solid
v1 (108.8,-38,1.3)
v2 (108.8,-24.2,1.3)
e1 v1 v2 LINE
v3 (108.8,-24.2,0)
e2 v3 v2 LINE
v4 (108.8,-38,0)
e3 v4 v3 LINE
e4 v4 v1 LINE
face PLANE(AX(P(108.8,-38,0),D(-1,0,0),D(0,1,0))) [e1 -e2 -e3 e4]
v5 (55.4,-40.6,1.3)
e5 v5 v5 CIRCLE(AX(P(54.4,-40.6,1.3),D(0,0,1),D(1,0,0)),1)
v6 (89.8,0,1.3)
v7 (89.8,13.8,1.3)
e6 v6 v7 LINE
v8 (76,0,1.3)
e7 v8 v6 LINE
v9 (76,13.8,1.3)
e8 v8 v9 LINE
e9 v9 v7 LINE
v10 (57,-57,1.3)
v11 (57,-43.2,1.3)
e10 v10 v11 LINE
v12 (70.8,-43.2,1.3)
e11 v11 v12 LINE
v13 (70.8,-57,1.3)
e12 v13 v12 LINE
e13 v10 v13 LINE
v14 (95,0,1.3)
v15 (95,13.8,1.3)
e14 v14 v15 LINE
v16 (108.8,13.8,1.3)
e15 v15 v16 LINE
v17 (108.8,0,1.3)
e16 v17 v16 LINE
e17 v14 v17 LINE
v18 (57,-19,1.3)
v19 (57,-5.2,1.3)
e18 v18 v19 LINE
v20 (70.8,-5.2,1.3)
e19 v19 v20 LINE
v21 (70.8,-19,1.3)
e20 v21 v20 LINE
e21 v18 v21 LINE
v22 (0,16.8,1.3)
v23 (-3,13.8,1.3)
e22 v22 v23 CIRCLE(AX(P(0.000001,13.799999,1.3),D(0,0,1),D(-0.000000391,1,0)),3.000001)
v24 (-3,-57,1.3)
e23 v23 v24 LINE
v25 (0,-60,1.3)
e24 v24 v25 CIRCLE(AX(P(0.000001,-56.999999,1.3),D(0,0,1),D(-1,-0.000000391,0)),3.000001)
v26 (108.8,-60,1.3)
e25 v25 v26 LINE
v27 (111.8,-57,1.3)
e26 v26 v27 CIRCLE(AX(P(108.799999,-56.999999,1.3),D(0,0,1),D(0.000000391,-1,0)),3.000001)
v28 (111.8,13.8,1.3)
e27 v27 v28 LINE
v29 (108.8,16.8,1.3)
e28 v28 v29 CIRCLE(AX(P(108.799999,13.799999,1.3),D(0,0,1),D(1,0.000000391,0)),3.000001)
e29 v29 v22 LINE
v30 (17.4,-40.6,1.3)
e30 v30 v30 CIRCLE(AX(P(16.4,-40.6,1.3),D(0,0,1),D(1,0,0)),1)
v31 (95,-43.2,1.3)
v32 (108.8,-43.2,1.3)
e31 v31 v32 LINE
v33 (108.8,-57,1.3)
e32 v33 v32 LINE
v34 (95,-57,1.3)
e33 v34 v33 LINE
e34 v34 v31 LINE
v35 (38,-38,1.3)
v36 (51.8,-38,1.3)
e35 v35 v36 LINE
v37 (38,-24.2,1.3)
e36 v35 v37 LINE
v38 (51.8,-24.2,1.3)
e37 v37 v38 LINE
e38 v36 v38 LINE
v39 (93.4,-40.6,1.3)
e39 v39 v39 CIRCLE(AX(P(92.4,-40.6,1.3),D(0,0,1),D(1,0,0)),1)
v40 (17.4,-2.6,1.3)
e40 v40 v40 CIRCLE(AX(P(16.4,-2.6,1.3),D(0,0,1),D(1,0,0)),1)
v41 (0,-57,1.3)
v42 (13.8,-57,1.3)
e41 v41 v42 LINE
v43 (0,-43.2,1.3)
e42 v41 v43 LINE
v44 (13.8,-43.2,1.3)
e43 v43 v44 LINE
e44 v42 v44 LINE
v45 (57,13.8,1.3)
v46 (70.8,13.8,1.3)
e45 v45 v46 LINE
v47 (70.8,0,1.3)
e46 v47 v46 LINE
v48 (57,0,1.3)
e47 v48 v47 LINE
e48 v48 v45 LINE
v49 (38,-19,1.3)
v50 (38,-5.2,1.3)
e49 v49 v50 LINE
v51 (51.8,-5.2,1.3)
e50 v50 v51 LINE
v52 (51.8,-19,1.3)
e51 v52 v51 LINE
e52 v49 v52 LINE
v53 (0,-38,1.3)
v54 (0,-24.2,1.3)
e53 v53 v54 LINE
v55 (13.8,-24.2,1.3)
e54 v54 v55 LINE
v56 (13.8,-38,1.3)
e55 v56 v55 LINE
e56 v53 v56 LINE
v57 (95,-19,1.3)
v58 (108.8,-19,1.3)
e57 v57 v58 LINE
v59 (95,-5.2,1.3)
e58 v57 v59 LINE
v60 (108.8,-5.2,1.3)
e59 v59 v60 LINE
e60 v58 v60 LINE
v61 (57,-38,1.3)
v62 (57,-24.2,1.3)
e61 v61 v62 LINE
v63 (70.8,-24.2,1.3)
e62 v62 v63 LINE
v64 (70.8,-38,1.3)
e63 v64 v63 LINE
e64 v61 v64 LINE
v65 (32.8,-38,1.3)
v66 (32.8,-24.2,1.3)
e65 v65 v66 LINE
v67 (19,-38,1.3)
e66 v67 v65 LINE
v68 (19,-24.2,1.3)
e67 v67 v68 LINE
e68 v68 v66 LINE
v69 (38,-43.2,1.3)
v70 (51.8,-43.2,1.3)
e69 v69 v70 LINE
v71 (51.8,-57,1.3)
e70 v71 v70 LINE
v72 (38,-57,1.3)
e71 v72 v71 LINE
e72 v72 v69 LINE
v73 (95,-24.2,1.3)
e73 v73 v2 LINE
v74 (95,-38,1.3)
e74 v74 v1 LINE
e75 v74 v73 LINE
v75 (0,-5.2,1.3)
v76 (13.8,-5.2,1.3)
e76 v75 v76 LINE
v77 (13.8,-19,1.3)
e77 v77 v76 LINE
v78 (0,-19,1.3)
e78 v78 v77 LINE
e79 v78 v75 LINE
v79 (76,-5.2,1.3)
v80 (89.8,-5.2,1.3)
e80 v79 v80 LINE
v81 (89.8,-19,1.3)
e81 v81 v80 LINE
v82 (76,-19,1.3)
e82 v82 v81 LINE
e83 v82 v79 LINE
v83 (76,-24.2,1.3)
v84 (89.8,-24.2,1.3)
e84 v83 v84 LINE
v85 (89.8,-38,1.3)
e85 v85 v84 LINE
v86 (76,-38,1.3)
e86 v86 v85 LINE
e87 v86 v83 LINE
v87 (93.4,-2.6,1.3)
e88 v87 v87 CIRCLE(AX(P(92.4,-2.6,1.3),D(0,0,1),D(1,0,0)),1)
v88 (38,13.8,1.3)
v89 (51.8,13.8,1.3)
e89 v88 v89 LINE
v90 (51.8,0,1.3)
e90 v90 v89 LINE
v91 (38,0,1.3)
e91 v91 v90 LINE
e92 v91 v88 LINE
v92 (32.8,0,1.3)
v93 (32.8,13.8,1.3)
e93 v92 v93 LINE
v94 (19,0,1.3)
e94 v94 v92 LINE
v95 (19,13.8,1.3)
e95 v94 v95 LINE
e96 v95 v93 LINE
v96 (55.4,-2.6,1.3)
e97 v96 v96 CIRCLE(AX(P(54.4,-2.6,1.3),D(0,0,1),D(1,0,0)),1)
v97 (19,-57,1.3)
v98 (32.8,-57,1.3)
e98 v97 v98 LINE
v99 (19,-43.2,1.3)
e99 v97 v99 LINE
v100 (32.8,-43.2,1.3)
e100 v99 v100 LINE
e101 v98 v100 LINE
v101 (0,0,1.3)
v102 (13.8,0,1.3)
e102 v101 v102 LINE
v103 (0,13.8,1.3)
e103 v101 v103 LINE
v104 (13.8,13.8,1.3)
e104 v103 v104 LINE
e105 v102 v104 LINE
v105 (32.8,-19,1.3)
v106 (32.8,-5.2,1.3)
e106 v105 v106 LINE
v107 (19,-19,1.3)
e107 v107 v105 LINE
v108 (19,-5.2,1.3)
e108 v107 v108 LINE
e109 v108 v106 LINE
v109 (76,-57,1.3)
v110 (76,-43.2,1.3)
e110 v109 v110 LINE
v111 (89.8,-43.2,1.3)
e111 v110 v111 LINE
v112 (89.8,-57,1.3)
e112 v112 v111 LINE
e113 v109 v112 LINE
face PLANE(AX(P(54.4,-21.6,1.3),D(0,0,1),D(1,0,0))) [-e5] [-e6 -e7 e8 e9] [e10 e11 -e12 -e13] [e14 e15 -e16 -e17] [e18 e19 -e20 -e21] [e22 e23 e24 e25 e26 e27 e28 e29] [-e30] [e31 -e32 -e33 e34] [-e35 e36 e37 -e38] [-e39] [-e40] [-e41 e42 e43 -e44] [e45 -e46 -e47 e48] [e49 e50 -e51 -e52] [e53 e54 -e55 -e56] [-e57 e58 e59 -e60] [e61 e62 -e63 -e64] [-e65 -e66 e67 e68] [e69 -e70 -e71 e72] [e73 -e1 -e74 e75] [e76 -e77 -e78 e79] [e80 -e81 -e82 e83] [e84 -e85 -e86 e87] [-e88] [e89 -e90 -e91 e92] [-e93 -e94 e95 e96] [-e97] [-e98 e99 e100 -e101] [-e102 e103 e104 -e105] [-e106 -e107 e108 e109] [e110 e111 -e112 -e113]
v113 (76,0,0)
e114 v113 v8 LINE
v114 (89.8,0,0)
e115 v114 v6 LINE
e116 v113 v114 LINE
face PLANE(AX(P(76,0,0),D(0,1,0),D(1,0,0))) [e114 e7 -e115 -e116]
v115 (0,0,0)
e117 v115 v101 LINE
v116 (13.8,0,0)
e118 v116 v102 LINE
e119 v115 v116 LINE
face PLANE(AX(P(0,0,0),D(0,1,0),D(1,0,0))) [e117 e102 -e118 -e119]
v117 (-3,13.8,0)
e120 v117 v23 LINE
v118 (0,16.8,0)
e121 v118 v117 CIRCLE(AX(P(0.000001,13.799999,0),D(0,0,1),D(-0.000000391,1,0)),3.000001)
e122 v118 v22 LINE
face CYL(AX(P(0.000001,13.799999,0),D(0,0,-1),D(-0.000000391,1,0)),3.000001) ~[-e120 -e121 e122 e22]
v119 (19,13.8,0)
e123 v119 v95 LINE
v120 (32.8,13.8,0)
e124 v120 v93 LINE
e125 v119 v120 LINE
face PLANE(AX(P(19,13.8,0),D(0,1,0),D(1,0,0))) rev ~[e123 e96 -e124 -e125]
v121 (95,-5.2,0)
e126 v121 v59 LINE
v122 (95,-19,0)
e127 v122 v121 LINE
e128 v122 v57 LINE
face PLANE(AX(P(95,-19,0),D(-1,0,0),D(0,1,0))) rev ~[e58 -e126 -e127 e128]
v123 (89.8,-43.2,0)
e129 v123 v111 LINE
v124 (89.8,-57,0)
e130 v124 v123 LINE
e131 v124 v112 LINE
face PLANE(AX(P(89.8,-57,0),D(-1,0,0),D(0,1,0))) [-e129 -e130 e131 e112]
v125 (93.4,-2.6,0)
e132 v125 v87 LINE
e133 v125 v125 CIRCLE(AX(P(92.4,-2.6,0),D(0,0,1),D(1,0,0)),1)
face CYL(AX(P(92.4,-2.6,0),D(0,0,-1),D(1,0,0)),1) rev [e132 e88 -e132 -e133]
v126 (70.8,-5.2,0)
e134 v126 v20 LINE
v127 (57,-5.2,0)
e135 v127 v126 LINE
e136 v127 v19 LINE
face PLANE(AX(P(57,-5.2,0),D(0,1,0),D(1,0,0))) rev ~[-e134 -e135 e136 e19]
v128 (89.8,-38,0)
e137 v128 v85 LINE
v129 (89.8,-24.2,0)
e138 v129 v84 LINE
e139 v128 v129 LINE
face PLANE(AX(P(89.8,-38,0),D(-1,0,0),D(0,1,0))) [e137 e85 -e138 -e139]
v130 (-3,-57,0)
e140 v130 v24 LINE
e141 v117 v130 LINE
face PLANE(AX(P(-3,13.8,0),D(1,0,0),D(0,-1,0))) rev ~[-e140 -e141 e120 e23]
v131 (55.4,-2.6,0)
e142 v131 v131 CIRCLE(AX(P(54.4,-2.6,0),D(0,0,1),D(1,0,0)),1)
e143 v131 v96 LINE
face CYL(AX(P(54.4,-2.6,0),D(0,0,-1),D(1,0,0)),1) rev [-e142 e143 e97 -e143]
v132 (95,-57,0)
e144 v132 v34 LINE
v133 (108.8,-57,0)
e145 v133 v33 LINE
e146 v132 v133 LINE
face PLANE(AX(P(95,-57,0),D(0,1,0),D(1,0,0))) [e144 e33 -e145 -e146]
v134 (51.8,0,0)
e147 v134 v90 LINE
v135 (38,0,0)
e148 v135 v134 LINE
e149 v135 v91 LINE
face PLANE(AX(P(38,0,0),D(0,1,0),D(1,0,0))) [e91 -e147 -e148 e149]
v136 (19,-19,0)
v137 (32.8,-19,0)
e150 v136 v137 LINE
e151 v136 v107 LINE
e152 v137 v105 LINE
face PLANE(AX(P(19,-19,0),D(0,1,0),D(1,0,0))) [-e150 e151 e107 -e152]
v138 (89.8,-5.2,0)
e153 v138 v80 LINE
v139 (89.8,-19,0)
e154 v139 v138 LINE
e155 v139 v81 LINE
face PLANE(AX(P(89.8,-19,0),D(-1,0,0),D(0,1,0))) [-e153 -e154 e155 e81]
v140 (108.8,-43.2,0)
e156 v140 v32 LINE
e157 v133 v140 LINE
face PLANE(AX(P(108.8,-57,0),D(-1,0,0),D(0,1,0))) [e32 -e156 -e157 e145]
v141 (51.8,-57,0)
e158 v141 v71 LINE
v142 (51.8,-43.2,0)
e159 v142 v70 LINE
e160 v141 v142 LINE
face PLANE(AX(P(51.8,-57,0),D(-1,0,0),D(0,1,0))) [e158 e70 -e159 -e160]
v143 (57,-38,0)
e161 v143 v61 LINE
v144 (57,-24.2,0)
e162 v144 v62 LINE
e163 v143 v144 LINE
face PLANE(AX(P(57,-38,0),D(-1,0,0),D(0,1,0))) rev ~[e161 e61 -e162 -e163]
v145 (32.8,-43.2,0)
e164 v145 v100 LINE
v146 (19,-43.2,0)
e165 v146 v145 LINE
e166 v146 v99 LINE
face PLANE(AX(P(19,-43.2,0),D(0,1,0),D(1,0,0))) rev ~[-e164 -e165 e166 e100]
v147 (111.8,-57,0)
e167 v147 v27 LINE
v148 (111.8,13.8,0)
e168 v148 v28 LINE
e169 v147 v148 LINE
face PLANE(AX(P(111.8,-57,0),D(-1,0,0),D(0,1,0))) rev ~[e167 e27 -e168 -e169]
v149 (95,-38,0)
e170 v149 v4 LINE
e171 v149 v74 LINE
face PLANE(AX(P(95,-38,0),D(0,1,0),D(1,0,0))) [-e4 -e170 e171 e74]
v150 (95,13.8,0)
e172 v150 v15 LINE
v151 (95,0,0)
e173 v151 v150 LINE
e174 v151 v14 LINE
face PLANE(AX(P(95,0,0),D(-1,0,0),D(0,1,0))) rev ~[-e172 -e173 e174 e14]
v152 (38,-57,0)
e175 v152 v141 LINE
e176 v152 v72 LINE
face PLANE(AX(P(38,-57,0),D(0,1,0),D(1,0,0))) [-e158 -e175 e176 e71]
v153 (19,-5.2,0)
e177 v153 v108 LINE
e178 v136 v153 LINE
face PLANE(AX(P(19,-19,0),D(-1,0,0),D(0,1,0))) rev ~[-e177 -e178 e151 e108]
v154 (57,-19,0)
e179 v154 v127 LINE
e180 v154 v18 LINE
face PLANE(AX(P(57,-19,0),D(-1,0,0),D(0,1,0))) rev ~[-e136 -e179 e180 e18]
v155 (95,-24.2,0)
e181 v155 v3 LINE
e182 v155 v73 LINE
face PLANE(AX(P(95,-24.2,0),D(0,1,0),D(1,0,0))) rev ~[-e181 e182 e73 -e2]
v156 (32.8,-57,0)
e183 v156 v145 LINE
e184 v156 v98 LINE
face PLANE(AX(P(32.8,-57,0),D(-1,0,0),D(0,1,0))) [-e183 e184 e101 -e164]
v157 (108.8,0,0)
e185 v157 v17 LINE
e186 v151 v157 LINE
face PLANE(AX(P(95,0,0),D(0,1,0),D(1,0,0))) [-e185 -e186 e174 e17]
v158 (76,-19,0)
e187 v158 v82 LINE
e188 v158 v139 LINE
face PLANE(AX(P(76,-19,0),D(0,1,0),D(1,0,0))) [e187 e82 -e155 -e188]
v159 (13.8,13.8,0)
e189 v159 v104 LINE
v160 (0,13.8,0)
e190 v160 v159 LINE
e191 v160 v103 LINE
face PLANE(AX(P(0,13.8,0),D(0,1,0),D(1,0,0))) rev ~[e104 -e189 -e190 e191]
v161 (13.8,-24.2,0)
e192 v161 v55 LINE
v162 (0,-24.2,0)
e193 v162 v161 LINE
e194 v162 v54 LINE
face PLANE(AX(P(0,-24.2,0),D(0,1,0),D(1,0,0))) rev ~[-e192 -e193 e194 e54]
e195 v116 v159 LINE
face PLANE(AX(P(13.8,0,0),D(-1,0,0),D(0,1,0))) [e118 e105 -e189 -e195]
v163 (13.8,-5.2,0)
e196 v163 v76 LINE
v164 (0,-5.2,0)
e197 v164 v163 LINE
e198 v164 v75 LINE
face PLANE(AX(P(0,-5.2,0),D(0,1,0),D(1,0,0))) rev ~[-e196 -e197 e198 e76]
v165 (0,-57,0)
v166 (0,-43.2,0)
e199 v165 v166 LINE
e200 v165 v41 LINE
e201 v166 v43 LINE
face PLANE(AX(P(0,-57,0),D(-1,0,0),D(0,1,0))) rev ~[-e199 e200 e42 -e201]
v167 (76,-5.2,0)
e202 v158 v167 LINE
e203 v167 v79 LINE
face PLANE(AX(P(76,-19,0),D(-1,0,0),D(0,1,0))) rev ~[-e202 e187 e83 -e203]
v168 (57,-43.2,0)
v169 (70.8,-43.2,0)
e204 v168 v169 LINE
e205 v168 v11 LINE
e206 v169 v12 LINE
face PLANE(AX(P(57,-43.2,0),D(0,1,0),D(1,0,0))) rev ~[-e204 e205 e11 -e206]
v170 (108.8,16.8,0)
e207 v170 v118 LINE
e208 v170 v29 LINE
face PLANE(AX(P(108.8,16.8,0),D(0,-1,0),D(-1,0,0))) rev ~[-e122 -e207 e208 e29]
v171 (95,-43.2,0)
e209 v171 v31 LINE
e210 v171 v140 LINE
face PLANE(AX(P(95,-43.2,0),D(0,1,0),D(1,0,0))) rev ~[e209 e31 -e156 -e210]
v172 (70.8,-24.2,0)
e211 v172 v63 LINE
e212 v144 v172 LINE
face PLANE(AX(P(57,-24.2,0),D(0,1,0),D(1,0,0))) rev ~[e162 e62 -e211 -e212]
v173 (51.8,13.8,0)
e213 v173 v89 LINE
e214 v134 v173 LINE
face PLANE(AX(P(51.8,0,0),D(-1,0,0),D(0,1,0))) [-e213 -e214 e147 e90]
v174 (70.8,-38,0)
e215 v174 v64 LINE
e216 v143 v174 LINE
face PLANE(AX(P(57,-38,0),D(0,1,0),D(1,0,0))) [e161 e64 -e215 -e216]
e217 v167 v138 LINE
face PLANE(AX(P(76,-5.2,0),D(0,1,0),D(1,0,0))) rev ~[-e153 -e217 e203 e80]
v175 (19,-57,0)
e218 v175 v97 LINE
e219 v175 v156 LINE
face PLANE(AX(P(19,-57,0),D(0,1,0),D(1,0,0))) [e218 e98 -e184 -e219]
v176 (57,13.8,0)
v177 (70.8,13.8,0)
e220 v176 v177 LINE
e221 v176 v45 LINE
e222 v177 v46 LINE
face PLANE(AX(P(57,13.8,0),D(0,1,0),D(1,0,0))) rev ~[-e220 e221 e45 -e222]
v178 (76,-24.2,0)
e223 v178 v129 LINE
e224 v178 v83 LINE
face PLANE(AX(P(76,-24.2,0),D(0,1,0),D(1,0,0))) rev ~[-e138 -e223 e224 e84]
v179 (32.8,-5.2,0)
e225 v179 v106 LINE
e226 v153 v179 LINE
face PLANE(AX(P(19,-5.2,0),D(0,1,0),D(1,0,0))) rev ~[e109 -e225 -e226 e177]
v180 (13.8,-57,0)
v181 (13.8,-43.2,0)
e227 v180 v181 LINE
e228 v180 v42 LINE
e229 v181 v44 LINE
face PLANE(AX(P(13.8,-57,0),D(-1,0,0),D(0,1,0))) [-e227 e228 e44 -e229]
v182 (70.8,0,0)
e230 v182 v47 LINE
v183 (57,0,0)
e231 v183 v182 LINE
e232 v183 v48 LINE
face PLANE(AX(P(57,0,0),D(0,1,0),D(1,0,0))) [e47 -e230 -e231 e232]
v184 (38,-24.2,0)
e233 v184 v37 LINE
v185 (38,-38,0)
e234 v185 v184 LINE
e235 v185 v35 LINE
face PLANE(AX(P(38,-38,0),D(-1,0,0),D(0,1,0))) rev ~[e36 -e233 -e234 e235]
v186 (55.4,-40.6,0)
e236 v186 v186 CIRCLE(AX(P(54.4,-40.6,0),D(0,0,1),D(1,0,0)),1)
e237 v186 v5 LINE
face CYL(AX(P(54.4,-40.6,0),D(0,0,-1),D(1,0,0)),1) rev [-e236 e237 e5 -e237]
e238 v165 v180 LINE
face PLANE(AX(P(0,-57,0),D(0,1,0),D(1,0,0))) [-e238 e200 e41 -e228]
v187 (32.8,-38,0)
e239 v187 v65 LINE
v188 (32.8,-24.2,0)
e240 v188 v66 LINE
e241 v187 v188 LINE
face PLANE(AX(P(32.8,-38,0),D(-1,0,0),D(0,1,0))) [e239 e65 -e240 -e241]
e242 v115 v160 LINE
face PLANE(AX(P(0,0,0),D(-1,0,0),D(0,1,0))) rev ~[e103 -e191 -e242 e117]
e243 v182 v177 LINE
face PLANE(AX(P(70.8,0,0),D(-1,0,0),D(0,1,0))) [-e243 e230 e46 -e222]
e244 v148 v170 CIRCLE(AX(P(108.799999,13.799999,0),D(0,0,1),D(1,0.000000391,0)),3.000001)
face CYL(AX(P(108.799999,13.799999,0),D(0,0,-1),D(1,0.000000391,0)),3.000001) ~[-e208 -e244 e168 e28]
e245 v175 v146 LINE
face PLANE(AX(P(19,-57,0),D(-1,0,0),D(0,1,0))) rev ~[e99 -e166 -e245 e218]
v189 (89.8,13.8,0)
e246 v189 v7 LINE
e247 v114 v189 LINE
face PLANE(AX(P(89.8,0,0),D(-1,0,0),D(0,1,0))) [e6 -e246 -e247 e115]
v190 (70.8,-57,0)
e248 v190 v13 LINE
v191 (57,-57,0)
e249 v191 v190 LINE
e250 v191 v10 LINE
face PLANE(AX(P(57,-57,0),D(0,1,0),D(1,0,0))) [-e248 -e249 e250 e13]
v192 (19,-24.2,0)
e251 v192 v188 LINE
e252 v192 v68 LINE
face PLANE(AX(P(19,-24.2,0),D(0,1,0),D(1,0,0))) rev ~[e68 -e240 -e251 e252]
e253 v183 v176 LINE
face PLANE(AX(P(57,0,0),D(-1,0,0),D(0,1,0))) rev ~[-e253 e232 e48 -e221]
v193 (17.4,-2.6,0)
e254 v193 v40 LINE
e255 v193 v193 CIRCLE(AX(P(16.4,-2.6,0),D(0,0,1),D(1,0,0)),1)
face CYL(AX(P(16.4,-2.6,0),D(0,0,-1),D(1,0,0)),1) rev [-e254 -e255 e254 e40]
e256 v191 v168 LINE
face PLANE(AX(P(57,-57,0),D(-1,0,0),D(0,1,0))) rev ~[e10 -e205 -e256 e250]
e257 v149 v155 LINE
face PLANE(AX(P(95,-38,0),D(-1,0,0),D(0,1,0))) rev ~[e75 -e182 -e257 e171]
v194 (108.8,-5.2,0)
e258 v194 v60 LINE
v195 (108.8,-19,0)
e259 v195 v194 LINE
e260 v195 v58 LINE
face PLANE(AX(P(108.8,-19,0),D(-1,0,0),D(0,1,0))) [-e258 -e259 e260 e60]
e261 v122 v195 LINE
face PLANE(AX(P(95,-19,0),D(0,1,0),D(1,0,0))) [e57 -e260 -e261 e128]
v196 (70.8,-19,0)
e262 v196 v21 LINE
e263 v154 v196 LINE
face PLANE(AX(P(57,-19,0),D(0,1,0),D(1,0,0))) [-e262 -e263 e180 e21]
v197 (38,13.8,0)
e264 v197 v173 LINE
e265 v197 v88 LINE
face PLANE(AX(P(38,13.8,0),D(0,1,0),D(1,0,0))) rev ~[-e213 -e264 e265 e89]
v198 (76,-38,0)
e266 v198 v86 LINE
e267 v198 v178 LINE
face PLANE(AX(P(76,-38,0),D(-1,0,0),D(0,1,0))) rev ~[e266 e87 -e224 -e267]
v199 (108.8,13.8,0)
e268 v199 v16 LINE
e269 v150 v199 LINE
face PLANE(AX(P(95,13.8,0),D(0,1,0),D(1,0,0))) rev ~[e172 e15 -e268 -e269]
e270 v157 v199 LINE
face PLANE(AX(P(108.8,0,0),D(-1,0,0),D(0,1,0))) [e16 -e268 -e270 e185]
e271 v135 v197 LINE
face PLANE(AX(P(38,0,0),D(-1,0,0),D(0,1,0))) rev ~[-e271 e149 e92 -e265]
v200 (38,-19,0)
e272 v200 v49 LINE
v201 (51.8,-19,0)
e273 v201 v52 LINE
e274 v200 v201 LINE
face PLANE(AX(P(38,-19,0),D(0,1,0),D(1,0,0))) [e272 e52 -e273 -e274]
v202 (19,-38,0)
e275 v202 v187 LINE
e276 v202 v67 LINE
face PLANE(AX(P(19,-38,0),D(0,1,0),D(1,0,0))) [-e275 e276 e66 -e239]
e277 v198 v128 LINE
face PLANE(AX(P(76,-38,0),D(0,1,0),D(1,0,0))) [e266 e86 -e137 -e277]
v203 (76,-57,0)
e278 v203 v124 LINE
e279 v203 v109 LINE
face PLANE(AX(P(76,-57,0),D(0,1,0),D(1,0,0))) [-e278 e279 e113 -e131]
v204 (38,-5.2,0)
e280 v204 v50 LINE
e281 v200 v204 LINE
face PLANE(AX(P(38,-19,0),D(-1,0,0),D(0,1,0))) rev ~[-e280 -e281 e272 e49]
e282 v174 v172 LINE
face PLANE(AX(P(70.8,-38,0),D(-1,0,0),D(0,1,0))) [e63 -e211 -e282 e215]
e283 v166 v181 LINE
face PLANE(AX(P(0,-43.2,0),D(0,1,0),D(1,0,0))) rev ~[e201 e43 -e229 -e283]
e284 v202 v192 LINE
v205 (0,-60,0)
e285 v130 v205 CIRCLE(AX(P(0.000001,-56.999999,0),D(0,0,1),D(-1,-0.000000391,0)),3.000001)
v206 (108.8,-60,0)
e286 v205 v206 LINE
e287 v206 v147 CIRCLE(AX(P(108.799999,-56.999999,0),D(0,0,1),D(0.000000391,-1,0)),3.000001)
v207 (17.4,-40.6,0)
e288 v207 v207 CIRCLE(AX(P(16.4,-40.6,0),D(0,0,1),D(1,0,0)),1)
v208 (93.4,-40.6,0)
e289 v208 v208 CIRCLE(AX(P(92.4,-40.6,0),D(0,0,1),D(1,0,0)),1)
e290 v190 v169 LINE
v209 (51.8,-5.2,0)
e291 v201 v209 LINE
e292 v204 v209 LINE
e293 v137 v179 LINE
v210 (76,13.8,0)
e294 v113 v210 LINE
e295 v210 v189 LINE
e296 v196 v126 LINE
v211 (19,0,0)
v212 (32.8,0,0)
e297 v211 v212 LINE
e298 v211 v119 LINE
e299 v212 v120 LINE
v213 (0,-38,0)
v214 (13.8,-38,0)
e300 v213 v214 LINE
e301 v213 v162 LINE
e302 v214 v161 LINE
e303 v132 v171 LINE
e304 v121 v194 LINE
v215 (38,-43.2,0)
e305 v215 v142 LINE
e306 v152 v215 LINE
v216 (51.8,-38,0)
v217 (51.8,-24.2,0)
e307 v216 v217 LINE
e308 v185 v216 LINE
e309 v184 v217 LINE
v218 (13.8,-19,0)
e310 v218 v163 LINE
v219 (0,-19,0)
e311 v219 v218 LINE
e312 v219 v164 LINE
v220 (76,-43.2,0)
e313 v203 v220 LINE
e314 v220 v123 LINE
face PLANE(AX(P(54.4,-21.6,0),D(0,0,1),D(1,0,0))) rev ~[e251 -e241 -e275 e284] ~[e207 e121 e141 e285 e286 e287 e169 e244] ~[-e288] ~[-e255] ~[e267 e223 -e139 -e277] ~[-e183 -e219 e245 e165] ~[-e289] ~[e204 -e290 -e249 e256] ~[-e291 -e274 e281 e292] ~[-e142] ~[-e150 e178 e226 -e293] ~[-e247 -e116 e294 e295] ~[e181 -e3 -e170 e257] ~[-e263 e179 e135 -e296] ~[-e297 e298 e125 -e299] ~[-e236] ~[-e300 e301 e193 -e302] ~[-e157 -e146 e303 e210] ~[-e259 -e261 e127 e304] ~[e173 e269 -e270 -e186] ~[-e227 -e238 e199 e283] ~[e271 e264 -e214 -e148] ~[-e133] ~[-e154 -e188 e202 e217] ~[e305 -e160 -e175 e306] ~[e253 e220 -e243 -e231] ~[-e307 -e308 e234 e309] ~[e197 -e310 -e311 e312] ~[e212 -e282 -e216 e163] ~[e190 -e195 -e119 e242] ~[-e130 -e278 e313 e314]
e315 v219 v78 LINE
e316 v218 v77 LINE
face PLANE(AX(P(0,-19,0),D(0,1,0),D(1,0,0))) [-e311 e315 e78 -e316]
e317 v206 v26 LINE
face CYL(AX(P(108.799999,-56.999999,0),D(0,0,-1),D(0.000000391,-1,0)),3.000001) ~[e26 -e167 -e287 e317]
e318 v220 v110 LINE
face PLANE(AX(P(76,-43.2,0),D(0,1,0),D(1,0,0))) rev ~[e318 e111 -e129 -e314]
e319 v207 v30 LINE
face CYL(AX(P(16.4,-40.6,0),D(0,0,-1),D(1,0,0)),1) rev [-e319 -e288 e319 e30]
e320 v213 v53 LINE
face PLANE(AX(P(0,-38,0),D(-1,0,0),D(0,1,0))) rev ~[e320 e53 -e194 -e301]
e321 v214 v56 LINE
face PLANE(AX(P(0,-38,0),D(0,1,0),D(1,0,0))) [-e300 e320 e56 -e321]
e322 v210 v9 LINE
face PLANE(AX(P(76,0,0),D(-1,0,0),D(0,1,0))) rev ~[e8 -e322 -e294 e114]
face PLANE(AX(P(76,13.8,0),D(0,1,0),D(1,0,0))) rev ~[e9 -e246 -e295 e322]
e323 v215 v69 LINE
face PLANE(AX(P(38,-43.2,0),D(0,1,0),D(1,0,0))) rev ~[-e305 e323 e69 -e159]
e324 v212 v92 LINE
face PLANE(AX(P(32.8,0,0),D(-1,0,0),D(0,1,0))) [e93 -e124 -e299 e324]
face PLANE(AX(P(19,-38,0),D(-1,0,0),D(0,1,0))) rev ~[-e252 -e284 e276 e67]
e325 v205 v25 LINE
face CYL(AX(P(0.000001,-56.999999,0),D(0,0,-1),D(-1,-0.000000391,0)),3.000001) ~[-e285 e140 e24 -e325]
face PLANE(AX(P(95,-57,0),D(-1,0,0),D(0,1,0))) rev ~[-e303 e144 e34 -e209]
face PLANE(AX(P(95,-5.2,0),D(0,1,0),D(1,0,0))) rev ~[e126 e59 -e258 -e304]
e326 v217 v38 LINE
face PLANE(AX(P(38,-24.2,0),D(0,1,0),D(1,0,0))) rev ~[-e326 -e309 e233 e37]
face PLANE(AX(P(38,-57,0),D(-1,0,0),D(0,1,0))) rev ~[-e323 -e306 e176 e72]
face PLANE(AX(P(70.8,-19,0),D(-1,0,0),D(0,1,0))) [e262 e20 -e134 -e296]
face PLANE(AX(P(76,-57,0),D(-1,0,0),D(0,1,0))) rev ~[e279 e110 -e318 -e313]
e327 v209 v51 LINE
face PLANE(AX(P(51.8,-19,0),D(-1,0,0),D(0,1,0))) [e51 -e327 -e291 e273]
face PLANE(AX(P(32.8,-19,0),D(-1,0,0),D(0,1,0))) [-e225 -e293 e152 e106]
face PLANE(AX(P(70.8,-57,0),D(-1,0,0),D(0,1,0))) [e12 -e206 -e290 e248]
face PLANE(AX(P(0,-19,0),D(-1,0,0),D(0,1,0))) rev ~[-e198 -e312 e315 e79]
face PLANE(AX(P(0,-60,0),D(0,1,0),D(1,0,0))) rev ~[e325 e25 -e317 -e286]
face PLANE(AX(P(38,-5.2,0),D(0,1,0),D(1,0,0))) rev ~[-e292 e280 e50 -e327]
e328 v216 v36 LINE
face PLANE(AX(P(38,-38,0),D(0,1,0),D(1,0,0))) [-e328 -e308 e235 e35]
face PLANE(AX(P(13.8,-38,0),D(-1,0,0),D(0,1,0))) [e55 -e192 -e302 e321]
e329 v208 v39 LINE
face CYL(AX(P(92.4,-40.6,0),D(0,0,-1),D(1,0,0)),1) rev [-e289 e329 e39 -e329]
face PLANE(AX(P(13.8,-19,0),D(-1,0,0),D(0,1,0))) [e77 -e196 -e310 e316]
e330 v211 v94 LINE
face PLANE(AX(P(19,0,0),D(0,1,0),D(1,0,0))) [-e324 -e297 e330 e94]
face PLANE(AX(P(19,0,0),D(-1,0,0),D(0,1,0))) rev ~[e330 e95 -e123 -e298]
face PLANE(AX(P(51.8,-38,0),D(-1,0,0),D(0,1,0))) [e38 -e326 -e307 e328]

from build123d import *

# Parameters (mm, degrees)
SKETCH_R  = 1
SKETCH_W  = 13.8
SKETCH_H  = 13.8
PAD_DEPTH = 1.3


with BuildPart() as part:
    # Sketch → Pad (new body)
    with BuildSketch(Plane.XY):
        with BuildLine():
            ThreePointArc((0, 16.8), (-2.12132, 15.92132), (-3, 13.8))
            Line((-3, 13.8), (-3, -57))
            ThreePointArc((-3, -57), (-2.12132, -59.12132), (0, -60))
            Line((0, -60), (108.8, -60))
            ThreePointArc((108.8, -60), (110.92132, -59.12132), (111.8, -57))
            Line((111.8, -57), (111.8, 13.8))
            ThreePointArc((111.8, 13.8), (110.92132, 15.92132), (108.8, 16.8))
            Line((108.8, 16.8), (0, 16.8))
        make_face()
        with Locations((92.4, -40.6)):
            Circle(SKETCH_R, mode=Mode.SUBTRACT)
        with Locations((54.4, -40.6)):
            Circle(SKETCH_R, mode=Mode.SUBTRACT)
        with Locations((16.4, -40.6)):
            Circle(SKETCH_R, mode=Mode.SUBTRACT)
        with Locations((16.4, -2.6)):
            Circle(SKETCH_R, mode=Mode.SUBTRACT)
        with Locations((54.4, -2.6)):
            Circle(SKETCH_R, mode=Mode.SUBTRACT)
        with Locations((92.4, -2.6)):
            Circle(SKETCH_R, mode=Mode.SUBTRACT)
        with Locations((6.9, 6.9)):
            Rectangle(SKETCH_W, SKETCH_H, mode=Mode.SUBTRACT)
        with Locations((25.9, 6.9)):
            Rectangle(SKETCH_W, SKETCH_H, mode=Mode.SUBTRACT)
        with Locations((44.9, 6.9)):
            Rectangle(SKETCH_W, SKETCH_H, mode=Mode.SUBTRACT)
        with Locations((63.9, 6.9)):
            Rectangle(SKETCH_W, SKETCH_H, mode=Mode.SUBTRACT)
        with Locations((82.9, 6.9)):
            Rectangle(SKETCH_W, SKETCH_H, mode=Mode.SUBTRACT)
        with Locations((101.9, 6.9)):
            Rectangle(SKETCH_W, SKETCH_H, mode=Mode.SUBTRACT)
        with Locations((6.9, -12.1)):
            Rectangle(SKETCH_W, SKETCH_H, mode=Mode.SUBTRACT)
        with Locations((25.9, -12.1)):
            Rectangle(SKETCH_W, SKETCH_H, mode=Mode.SUBTRACT)
        with Locations((44.9, -12.1)):
            Rectangle(SKETCH_W, SKETCH_H, mode=Mode.SUBTRACT)
        with Locations((63.9, -12.1)):
            Rectangle(SKETCH_W, SKETCH_H, mode=Mode.SUBTRACT)
        with Locations((82.9, -12.1)):
            Rectangle(SKETCH_W, SKETCH_H, mode=Mode.SUBTRACT)
        with Locations((101.9, -12.1)):
            Rectangle(SKETCH_W, SKETCH_H, mode=Mode.SUBTRACT)
        with Locations((6.9, -31.1)):
            Rectangle(SKETCH_W, SKETCH_H, mode=Mode.SUBTRACT)
        with Locations((25.9, -31.1)):
            Rectangle(SKETCH_W, SKETCH_H, mode=Mode.SUBTRACT)
        with Locations((44.9, -31.1)):
            Rectangle(SKETCH_W, SKETCH_H, mode=Mode.SUBTRACT)
        with Locations((63.9, -31.1)):
            Rectangle(SKETCH_W, SKETCH_H, mode=Mode.SUBTRACT)
        with Locations((82.9, -31.1)):
            Rectangle(SKETCH_W, SKETCH_H, mode=Mode.SUBTRACT)
        with Locations((101.9, -31.1)):
            Rectangle(SKETCH_W, SKETCH_H, mode=Mode.SUBTRACT)
        with Locations((6.9, -50.1)):
            Rectangle(SKETCH_W, SKETCH_H, mode=Mode.SUBTRACT)
        with Locations((25.9, -50.1)):
            Rectangle(SKETCH_W, SKETCH_H, mode=Mode.SUBTRACT)
        with Locations((44.9, -50.1)):
            Rectangle(SKETCH_W, SKETCH_H, mode=Mode.SUBTRACT)
        with Locations((63.9, -50.1)):
            Rectangle(SKETCH_W, SKETCH_H, mode=Mode.SUBTRACT)
        with Locations((82.9, -50.1)):
            Rectangle(SKETCH_W, SKETCH_H, mode=Mode.SUBTRACT)
        with Locations((101.9, -50.1)):
            Rectangle(SKETCH_W, SKETCH_H, mode=Mode.SUBTRACT)
    extrude(amount=PAD_DEPTH)


solid = part.part
